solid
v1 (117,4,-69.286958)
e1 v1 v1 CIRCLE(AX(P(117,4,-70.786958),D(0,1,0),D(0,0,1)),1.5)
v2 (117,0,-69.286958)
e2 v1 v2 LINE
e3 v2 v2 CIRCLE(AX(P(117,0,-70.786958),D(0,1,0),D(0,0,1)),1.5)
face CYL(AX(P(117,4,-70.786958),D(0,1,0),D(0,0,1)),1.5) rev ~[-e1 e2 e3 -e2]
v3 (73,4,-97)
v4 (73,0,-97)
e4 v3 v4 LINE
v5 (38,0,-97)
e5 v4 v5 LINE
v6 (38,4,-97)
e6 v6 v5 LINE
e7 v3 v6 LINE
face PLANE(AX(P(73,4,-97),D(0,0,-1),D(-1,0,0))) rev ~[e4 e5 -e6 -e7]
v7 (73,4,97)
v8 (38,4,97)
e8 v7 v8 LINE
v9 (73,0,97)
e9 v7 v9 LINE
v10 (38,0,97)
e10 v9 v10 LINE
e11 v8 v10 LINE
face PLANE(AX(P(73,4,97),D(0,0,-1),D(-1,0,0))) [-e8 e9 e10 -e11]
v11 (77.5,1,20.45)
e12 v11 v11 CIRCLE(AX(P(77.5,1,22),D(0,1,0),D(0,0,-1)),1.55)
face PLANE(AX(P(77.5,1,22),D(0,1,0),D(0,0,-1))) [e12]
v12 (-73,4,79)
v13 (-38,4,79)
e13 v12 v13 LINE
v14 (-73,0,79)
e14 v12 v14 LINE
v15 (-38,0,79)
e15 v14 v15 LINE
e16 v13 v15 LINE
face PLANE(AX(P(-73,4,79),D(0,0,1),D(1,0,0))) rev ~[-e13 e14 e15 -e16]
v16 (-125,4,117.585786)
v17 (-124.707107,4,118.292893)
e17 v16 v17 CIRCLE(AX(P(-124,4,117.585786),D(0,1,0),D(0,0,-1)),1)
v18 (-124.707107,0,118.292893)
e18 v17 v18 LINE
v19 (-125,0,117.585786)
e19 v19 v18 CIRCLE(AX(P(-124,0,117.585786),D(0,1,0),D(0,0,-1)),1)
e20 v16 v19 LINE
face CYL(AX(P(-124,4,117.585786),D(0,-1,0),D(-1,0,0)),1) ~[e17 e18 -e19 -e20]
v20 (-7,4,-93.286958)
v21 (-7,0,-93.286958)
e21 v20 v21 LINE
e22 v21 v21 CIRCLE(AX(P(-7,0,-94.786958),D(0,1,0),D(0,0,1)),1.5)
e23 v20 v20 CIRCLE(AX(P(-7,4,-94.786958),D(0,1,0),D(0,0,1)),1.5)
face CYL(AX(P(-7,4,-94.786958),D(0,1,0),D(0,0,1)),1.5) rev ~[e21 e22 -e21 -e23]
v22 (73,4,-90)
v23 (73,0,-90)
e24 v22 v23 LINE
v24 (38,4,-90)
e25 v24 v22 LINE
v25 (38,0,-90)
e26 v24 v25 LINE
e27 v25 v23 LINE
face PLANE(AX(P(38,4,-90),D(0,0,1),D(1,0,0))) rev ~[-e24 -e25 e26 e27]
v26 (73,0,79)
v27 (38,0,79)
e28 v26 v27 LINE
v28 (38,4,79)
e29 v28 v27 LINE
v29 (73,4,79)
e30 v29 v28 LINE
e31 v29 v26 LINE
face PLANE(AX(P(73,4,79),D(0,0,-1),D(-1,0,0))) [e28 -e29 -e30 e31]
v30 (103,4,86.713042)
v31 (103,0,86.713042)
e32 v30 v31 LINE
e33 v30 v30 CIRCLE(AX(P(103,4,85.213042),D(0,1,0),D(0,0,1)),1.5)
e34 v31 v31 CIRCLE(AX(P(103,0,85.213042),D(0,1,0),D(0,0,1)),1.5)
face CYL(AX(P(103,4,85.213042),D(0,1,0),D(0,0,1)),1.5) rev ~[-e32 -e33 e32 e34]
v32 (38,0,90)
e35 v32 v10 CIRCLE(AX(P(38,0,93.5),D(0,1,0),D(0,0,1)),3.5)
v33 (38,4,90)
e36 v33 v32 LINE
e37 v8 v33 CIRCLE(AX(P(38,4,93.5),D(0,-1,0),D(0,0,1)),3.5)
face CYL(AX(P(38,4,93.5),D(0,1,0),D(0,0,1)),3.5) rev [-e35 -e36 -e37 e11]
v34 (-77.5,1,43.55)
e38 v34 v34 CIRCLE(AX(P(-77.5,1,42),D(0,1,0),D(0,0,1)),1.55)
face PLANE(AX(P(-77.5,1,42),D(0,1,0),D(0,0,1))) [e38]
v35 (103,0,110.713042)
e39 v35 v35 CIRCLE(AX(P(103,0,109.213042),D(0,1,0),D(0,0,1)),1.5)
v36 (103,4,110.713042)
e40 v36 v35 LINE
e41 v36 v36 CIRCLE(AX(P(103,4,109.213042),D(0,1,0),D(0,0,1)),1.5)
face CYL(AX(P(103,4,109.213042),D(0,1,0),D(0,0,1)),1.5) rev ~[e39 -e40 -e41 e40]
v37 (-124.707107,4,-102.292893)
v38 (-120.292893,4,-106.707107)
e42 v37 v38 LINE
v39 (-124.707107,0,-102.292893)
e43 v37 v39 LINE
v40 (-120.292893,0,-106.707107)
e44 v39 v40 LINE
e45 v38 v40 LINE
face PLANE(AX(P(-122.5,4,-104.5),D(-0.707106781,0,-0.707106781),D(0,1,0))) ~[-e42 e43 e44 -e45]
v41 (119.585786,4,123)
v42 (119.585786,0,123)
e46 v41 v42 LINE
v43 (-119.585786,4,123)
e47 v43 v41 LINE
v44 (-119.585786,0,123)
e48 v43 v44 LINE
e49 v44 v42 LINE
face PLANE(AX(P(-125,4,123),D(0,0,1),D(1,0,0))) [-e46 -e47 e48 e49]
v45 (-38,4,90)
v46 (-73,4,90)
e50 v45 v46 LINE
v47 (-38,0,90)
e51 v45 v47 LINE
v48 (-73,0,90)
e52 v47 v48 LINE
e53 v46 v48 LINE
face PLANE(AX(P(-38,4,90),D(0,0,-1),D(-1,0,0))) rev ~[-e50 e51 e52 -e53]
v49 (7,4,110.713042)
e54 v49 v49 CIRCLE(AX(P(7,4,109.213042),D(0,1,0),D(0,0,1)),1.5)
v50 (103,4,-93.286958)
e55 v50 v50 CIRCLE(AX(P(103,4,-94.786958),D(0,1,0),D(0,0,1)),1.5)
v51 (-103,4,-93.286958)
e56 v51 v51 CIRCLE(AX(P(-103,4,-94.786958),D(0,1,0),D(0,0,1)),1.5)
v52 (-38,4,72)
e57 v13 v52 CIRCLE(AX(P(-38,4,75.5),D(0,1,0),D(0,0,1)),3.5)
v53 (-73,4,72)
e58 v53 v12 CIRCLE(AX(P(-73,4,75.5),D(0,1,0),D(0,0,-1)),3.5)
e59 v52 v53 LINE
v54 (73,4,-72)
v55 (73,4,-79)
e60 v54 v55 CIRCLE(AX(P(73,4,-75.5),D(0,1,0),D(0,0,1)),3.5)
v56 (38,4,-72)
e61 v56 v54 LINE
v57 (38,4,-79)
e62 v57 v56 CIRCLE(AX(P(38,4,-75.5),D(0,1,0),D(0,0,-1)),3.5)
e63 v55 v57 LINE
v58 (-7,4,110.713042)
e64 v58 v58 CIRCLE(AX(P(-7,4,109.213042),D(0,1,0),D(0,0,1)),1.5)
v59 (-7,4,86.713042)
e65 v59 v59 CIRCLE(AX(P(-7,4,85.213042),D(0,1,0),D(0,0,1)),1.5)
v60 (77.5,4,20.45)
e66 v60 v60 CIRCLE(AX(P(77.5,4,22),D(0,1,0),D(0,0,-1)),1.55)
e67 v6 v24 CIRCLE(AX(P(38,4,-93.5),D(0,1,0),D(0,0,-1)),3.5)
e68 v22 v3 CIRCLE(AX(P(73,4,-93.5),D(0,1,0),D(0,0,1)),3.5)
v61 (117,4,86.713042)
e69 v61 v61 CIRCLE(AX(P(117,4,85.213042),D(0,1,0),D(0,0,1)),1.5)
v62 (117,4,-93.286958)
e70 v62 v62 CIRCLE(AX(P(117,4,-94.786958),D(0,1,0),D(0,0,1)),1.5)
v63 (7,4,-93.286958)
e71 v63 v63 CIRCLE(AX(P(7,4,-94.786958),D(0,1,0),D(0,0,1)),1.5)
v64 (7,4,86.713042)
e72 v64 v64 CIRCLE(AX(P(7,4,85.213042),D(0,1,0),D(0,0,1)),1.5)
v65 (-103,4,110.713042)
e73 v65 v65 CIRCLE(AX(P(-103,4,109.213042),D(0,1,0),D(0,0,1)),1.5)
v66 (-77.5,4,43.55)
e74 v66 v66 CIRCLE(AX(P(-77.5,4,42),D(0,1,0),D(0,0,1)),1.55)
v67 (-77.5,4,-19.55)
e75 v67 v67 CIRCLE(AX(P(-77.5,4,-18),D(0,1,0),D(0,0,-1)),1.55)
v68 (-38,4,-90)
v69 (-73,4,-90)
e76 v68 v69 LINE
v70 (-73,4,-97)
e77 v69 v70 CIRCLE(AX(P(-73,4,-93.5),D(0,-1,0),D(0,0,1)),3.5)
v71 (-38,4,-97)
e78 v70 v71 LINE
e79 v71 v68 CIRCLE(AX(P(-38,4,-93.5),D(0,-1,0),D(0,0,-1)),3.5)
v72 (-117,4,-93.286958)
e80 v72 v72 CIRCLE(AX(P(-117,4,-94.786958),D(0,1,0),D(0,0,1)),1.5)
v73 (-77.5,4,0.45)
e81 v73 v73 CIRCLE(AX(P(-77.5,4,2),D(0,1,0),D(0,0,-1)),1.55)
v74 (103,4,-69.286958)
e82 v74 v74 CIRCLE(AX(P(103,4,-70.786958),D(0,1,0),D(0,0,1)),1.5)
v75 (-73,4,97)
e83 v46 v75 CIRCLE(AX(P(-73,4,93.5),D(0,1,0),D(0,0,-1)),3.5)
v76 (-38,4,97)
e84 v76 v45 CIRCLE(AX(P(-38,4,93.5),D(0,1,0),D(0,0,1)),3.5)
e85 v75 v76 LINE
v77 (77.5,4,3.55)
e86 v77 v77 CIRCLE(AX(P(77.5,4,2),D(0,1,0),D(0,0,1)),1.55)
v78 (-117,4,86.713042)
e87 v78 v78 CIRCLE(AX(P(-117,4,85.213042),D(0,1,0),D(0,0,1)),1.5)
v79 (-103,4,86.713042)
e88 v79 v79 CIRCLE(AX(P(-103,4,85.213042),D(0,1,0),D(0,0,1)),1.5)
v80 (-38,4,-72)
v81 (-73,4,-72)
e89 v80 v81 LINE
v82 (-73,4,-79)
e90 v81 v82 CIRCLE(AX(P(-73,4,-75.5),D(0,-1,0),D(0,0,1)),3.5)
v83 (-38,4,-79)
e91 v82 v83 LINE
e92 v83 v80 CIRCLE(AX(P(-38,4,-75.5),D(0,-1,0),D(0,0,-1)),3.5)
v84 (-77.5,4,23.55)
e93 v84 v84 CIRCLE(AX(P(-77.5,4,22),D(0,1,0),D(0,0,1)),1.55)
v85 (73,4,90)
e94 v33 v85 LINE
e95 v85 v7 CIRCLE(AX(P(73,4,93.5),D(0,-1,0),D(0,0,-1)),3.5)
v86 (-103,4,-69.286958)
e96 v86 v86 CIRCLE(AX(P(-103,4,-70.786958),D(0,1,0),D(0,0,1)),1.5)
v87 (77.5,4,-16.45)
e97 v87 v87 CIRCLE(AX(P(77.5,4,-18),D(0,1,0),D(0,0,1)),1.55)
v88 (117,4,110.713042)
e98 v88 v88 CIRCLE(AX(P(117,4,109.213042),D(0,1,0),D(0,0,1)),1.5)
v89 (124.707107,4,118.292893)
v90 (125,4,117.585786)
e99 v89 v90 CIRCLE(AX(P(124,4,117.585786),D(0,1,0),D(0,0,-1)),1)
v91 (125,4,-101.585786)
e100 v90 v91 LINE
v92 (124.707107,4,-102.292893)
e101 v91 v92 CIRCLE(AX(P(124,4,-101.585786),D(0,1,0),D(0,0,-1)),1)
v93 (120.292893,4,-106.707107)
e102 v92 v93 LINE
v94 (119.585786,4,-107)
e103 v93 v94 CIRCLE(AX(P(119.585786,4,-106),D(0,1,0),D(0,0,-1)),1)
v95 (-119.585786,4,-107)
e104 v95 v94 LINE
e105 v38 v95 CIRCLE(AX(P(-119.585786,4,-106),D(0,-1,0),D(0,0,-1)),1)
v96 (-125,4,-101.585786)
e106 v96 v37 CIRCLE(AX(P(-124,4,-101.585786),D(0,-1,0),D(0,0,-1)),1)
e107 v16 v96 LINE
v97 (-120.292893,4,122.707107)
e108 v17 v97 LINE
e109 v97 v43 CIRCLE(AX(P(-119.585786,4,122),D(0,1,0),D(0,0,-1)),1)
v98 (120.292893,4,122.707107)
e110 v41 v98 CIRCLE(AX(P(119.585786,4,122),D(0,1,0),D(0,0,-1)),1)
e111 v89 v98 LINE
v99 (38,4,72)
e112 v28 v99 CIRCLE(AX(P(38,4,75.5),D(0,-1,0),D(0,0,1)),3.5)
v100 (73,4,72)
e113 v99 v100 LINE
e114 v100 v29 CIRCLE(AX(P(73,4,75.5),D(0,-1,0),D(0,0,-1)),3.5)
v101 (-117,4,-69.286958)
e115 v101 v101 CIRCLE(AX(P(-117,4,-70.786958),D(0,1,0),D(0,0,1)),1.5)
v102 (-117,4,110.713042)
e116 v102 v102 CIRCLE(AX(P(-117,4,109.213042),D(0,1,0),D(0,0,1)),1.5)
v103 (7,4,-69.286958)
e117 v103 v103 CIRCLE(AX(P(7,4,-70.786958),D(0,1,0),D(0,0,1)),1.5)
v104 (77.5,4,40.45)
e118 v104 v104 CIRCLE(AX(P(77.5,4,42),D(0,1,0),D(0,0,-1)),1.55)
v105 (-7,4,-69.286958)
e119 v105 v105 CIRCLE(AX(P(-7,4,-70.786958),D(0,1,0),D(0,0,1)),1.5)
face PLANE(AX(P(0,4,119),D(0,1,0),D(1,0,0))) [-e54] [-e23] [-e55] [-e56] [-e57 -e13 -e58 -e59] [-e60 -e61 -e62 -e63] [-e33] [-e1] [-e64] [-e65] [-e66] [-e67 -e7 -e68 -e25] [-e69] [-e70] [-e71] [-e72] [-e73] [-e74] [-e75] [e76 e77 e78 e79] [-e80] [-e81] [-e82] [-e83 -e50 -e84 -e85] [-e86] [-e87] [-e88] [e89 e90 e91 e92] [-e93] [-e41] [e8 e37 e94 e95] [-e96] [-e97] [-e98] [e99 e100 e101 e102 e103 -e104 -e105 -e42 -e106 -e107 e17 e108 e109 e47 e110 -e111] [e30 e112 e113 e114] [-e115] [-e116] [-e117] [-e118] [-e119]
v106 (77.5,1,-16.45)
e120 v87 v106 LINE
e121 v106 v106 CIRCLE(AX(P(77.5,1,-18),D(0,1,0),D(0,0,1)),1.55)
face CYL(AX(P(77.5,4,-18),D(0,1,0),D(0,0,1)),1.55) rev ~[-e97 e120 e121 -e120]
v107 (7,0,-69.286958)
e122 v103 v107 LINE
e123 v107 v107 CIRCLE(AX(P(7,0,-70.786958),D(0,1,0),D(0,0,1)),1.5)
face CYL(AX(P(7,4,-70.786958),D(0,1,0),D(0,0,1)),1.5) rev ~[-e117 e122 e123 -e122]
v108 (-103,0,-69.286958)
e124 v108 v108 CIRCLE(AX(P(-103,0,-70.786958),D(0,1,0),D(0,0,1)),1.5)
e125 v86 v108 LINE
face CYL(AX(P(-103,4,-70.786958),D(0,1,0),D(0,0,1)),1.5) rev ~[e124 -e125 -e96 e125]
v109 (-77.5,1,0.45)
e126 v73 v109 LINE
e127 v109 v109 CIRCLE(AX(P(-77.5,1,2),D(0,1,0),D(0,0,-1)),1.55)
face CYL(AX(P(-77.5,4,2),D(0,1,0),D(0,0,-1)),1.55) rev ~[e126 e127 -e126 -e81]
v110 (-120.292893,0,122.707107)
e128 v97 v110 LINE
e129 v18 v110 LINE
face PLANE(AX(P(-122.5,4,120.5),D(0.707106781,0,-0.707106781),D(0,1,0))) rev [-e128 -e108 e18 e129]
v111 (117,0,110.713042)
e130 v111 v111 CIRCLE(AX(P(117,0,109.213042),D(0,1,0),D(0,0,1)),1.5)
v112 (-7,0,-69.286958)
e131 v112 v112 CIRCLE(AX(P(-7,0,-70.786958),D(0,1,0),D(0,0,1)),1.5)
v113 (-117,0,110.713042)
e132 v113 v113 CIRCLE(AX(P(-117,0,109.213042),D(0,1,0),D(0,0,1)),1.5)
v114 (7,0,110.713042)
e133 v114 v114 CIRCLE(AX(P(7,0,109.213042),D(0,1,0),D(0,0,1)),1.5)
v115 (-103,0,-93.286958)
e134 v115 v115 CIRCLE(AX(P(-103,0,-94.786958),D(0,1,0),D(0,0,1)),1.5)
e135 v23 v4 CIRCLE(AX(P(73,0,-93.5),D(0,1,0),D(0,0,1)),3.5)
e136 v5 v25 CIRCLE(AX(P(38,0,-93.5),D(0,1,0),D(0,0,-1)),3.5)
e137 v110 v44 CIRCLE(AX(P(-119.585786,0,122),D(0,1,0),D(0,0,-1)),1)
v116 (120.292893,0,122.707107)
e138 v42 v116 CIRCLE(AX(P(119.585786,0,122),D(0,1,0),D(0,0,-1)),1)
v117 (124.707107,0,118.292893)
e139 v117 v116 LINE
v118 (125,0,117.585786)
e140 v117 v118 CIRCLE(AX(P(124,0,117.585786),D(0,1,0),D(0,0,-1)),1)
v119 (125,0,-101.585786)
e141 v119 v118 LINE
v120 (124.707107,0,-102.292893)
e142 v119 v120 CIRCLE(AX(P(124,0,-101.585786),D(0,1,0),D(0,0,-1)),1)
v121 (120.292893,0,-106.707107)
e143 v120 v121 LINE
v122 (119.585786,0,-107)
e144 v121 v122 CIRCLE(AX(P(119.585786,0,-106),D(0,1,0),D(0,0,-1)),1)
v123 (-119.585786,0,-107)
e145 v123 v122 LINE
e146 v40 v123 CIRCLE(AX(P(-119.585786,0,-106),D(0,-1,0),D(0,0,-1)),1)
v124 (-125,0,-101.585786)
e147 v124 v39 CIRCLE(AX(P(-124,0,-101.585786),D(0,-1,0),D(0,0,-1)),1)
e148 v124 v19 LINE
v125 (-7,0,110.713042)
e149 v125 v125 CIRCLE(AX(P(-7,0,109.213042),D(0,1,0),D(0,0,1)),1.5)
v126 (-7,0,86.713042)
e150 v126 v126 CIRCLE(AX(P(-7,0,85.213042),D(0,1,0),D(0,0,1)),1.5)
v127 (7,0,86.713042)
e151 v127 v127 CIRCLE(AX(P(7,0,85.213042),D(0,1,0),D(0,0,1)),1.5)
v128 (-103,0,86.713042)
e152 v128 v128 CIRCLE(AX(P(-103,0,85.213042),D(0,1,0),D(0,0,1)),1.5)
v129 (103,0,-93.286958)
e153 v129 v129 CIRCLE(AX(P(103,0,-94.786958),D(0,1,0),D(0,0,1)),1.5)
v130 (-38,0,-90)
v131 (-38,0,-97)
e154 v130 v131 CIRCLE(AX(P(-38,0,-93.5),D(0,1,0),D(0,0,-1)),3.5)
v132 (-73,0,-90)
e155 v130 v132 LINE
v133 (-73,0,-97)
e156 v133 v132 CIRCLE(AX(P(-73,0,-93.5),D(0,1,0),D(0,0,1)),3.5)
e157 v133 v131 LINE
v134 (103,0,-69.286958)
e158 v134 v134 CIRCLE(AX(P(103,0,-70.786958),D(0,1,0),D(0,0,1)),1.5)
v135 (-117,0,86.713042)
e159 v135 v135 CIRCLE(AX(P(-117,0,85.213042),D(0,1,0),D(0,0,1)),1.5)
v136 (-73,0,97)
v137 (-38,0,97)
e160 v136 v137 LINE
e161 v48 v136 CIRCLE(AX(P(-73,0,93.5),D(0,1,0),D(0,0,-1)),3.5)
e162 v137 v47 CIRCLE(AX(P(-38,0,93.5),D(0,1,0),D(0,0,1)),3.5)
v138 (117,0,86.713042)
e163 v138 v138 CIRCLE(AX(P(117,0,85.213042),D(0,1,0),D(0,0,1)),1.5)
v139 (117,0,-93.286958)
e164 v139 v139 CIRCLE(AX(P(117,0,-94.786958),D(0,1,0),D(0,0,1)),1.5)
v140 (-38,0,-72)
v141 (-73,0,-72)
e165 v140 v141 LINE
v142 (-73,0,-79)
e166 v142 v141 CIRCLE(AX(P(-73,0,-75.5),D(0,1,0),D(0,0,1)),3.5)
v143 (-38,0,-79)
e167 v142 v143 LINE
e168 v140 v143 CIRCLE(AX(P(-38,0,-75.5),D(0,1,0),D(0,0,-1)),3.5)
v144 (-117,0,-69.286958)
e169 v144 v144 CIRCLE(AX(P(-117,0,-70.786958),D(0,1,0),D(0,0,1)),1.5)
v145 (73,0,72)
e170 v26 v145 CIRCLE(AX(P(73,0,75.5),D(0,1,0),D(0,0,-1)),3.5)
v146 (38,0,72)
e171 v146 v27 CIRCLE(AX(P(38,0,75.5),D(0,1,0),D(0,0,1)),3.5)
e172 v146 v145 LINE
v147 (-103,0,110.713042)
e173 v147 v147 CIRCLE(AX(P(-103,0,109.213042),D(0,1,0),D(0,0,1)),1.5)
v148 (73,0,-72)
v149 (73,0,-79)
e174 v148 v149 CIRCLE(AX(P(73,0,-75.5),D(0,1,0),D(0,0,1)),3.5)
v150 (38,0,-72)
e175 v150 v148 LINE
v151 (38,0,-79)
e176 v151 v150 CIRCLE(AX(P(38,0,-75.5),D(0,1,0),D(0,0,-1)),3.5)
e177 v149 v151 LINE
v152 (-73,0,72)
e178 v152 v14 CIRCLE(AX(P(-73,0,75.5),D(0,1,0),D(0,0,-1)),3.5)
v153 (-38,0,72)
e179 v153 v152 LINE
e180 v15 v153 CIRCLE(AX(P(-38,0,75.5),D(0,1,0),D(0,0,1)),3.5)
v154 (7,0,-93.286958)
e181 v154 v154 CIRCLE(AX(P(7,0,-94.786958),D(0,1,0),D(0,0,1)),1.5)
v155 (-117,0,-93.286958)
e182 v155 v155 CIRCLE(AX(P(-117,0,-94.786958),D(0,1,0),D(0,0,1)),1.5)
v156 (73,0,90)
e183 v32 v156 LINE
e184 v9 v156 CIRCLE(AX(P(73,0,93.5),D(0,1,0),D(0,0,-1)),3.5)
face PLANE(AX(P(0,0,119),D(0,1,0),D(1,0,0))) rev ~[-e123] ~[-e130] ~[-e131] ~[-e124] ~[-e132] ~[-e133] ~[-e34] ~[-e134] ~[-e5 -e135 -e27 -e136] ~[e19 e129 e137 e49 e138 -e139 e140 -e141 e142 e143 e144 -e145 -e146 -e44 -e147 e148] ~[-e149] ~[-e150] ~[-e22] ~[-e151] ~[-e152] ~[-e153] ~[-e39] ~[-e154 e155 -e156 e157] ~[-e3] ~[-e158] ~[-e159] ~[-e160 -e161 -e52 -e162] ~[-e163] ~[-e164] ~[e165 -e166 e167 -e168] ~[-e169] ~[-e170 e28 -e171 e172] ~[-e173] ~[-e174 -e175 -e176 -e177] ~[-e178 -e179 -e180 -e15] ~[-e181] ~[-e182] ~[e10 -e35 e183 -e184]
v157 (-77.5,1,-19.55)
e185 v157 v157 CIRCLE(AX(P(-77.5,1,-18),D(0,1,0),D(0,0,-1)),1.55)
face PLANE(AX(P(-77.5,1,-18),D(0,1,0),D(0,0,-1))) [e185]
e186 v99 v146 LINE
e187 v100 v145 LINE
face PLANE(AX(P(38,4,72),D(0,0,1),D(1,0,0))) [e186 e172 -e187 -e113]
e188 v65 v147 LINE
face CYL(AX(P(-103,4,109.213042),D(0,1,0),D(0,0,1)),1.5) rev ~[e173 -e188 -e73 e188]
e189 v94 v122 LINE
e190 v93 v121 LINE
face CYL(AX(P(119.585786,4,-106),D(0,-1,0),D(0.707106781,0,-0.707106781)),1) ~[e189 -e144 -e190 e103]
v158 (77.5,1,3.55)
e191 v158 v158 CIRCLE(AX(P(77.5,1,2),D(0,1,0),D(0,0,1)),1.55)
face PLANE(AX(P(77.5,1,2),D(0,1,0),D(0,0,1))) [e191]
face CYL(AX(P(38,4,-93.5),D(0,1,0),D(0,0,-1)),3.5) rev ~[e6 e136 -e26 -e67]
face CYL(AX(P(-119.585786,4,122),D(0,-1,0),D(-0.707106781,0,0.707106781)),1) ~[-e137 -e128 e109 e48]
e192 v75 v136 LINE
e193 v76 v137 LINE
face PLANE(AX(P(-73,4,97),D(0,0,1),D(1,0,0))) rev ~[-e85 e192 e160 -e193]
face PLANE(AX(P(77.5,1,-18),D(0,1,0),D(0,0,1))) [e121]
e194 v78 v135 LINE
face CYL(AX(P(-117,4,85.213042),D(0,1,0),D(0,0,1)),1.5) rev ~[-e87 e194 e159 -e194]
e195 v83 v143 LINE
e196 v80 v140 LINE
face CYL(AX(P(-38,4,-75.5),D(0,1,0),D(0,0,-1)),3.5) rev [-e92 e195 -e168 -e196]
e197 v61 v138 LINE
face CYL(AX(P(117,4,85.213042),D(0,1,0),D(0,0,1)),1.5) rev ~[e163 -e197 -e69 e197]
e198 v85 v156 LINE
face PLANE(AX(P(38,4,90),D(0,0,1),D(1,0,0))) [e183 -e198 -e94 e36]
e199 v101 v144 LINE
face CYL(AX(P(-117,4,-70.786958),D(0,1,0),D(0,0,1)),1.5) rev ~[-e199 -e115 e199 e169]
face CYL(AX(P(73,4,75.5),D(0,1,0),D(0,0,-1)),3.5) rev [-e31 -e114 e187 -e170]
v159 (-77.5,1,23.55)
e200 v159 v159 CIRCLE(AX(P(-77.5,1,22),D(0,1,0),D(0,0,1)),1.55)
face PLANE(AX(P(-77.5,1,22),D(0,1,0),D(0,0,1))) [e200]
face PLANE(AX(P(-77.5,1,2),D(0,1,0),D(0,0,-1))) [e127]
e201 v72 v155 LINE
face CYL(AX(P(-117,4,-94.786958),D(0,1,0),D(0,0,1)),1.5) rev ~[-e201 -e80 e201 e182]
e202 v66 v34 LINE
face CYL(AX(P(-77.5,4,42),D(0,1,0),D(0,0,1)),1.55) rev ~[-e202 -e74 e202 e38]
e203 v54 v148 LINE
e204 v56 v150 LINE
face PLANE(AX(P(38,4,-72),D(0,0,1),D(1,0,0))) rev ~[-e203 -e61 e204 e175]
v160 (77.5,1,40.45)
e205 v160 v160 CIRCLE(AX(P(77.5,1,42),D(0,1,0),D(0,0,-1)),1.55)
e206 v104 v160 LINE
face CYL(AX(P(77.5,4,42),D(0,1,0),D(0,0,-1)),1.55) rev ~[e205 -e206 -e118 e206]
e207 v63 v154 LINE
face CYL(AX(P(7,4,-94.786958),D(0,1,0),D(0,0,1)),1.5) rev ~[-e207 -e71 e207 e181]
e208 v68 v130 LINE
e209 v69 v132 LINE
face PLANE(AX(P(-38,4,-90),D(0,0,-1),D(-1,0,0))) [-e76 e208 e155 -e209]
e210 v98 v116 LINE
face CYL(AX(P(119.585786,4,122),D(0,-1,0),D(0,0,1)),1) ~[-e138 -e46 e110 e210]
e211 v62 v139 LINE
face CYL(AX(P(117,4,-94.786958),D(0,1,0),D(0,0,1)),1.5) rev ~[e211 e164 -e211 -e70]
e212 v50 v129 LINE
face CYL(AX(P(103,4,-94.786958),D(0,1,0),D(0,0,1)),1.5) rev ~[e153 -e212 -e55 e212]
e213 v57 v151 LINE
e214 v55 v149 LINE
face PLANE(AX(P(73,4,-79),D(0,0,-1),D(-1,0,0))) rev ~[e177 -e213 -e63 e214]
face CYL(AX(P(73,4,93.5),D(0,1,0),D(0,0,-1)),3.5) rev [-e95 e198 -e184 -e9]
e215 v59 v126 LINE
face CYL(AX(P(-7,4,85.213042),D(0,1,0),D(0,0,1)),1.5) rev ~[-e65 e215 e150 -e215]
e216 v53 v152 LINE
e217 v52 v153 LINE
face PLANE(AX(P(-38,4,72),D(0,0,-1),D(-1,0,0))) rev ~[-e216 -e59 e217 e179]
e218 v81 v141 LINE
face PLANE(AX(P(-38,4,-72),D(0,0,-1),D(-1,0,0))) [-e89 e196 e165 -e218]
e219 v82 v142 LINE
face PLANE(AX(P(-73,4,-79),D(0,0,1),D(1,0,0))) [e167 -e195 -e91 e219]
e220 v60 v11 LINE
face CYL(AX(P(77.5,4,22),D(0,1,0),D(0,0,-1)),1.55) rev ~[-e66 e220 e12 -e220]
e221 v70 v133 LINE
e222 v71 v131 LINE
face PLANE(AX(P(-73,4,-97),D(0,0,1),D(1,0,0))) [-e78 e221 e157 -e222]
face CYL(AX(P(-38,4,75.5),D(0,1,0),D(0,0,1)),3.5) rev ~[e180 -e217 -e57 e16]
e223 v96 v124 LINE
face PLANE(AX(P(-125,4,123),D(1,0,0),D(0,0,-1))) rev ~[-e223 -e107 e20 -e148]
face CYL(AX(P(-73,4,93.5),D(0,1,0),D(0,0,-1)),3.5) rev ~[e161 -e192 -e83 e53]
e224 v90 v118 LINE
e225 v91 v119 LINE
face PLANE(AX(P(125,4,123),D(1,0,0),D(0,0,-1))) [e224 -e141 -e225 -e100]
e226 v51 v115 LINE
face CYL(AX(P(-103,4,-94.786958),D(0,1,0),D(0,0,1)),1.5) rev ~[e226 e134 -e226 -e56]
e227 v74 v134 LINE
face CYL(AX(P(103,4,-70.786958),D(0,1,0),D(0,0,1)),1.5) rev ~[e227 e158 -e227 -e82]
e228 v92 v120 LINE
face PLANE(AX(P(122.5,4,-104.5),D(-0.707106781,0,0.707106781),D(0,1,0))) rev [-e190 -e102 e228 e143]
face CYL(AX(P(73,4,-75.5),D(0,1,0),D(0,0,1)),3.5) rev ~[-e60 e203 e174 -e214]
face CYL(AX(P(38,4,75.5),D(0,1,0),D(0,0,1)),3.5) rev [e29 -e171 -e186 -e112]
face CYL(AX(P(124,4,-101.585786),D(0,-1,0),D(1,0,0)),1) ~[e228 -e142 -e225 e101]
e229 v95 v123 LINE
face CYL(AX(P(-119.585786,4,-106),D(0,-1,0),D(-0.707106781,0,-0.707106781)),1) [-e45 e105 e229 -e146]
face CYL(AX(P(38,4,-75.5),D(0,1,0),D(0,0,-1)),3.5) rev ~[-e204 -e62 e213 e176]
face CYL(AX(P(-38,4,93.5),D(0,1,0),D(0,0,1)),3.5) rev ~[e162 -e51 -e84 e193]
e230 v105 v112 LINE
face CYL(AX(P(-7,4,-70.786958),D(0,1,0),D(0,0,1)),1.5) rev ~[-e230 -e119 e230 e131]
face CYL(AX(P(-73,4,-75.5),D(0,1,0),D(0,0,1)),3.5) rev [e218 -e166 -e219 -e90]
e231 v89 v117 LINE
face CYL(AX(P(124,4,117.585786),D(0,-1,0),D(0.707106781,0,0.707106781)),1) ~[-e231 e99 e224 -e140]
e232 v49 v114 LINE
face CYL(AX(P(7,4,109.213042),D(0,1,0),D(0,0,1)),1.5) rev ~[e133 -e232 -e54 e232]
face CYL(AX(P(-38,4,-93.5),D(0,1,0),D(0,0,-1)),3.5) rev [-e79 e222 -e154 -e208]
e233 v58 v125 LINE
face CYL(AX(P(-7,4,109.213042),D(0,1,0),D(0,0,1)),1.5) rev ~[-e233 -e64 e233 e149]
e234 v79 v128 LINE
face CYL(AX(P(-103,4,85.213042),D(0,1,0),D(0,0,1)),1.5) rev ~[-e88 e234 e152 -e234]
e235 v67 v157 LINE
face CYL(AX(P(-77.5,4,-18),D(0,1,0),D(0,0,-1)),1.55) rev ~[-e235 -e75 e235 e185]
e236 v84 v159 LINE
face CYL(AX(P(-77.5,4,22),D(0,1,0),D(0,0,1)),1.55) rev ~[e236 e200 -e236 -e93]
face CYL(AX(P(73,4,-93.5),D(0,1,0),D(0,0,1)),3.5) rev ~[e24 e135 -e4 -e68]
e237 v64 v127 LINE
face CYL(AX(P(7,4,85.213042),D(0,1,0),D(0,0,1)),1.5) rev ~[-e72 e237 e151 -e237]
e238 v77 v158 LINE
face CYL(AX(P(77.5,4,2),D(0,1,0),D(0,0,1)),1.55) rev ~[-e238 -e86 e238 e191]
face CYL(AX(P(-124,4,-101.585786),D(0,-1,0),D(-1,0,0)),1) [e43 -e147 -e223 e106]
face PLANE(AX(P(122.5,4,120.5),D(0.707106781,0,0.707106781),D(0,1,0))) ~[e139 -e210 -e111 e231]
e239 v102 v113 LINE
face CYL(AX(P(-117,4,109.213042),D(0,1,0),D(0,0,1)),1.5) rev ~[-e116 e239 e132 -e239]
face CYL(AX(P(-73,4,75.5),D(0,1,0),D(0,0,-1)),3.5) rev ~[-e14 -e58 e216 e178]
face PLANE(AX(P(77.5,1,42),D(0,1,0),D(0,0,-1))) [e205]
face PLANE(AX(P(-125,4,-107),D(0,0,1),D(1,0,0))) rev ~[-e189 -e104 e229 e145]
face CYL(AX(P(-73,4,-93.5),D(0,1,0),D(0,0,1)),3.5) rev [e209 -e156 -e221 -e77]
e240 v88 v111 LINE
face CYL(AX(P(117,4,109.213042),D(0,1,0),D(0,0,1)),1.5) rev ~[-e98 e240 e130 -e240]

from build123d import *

# Parameters (mm, degrees)
SKETCH_1_W          = 250
SKETCH_1_H          = 230
EXTRUDE_1_DEPTH     = 4
SKETCH_5_R          = 1.55
CUT_EXTRUDE_4_DEPTH = 3
SKETCH_7_R          = 1.5
CUT_EXTRUDE_5_DEPTH = 170.899970571
SKETCH_8_W          = 250
SKETCH_8_H          = 8
CUT_EXTRUDE_6_DEPTH = 10
SKETCH_9_W          = 250
SKETCH_9_H          = 8
EXTRUDE_2_DEPTH     = 4
CHAMFER_1_SIZE      = 5
FILLET_1_R          = 1


with BuildPart() as part:
    # 草图1 → 凸台-拉伸1 (new body)
    with BuildSketch(Plane(origin=(0, 0, 0), x_dir=(1, 0, 0), z_dir=(0, 1, 0))):
        Rectangle(SKETCH_1_W, SKETCH_1_H)
    extrude(amount=EXTRUDE_1_DEPTH)

    # 草图5 → 切除-拉伸4 (cut)
    with BuildSketch(Plane(origin=(0, 4, 0), x_dir=(1, 0, 0), z_dir=(0, 1, 0))):
        with Locations(Location((77.5, -2, 0), (0, 0, 270))):
            Circle(SKETCH_5_R)
        with Locations(Location((77.5, 18, 0), (0, 0, 270))):
            Circle(SKETCH_5_R)
        with Locations(Location((77.5, -22, 0), (0, 0, 90))):
            Circle(SKETCH_5_R)
        with Locations(Location((77.5, -42, 0), (0, 0, 90))):
            Circle(SKETCH_5_R)
        with Locations(Location((-77.5, -42, 0), (0, 0, 270))):
            Circle(SKETCH_5_R)
        with Locations(Location((-77.5, -22, 0), (0, 0, 270))):
            Circle(SKETCH_5_R)
        with Locations(Location((-77.5, 18, 0), (0, 0, 90))):
            Circle(SKETCH_5_R)
        with Locations(Location((-77.5, -2, 0), (0, 0, 90))):
            Circle(SKETCH_5_R)
    extrude(amount=-CUT_EXTRUDE_4_DEPTH, mode=Mode.SUBTRACT)

    # 草图7 → 切除-拉伸5 (cut, through all)
    with BuildSketch(Plane(origin=(0, 4, 0), x_dir=(1, 0, 0), z_dir=(0, 1, 0))):
        with Locations(Location((-117.000000001, 94.78695798, 0), (0, 0, 270))):
            Circle(SKETCH_7_R)
        with Locations(Location((-117.000000001, 70.78695798, 0), (0, 0, 270))):
            Circle(SKETCH_7_R)
        with Locations(Location((-103.000000001, 70.78695798, 0), (0, 0, 270))):
            Circle(SKETCH_7_R)
        with Locations(Location((-103.000000001, 94.78695798, 0), (0, 0, 270))):
            Circle(SKETCH_7_R)
        with Locations(Location((-7, 94.786957979, 0), (0, 0, 270))):
            Circle(SKETCH_7_R)
        with Locations(Location((7, 94.786957979, 0), (0, 0, 270))):
            Circle(SKETCH_7_R)
        with Locations(Location((7, 70.786957979, 0), (0, 0, 270))):
            Circle(SKETCH_7_R)
        with Locations(Location((-7, 70.786957979, 0), (0, 0, 270))):
            Circle(SKETCH_7_R)
        with Locations(Location((116.999999999, 94.78695798, 0), (0, 0, 270))):
            Circle(SKETCH_7_R)
        with Locations(Location((116.999999999, 70.78695798, 0), (0, 0, 270))):
            Circle(SKETCH_7_R)
        with Locations(Location((102.999999999, 70.78695798, 0), (0, 0, 270))):
            Circle(SKETCH_7_R)
        with Locations(Location((102.999999999, 94.78695798, 0), (0, 0, 270))):
            Circle(SKETCH_7_R)
        with Locations(Location((103, -109.213042021, 0), (0, 0, 270))):
            Circle(SKETCH_7_R)
        with Locations(Location((117, -109.213042021, 0), (0, 0, 270))):
            Circle(SKETCH_7_R)
        with Locations(Location((117, -85.213042021, 0), (0, 0, 270))):
            Circle(SKETCH_7_R)
        with Locations(Location((103, -85.213042021, 0), (0, 0, 270))):
            Circle(SKETCH_7_R)
        with Locations(Location((7, -85.213042021, 0), (0, 0, 270))):
            Circle(SKETCH_7_R)
        with Locations(Location((7, -109.213042021, 0), (0, 0, 270))):
            Circle(SKETCH_7_R)
        with Locations(Location((-7, -85.213042021, 0), (0, 0, 270))):
            Circle(SKETCH_7_R)
        with Locations(Location((-7, -109.213042021, 0), (0, 0, 270))):
            Circle(SKETCH_7_R)
        with Locations(Location((-117, -85.213042021, 0), (0, 0, 270))):
            Circle(SKETCH_7_R)
        with Locations(Location((-103, -85.213042021, 0), (0, 0, 270))):
            Circle(SKETCH_7_R)
        with Locations(Location((-103, -109.213042021, 0), (0, 0, 270))):
            Circle(SKETCH_7_R)
        with Locations(Location((-117, -109.213042021, 0), (0, 0, 270))):
            Circle(SKETCH_7_R)
    extrude(amount=-CUT_EXTRUDE_5_DEPTH, mode=Mode.SUBTRACT)

    # 草图8 → 切除-拉伸6 (cut)
    with BuildSketch(Plane(origin=(0, 4, 0), x_dir=(1, 0, 0), z_dir=(0, 1, 0))):
        with BuildLine():
            Line((-73, 97), (-38, 97))
            ThreePointArc((-38, 97), (-34.5, 93.5), (-38, 90))
            Line((-38, 90), (-73, 90))
            ThreePointArc((-73, 90), (-76.5, 93.5), (-73, 97))
        make_face()
        with BuildLine():
            Line((-73, 79), (-38, 79))
            ThreePointArc((-38, 79), (-34.5, 75.5), (-38, 72))
            Line((-38, 72), (-73, 72))
            ThreePointArc((-73, 72), (-76.5, 75.5), (-73, 79))
        make_face()
        with BuildLine():
            Line((73, 97), (38, 97))
            ThreePointArc((38, 97), (34.5, 93.5), (38, 90))
            Line((38, 90), (73, 90))
            ThreePointArc((73, 90), (76.5, 93.5), (73, 97))
        make_face()
        with BuildLine():
            Line((73, 79), (38, 79))
            ThreePointArc((38, 79), (34.5, 75.5), (38, 72))
            Line((38, 72), (73, 72))
            ThreePointArc((73, 72), (76.5, 75.5), (73, 79))
        make_face()
        with BuildLine():
            Line((-73, -97), (-38, -97))
            ThreePointArc((-38, -97), (-34.5, -93.5), (-38, -90))
            Line((-38, -90), (-73, -90))
            ThreePointArc((-73, -90), (-76.5, -93.5), (-73, -97))
        make_face()
        with BuildLine():
            Line((-73, -79), (-38, -79))
            ThreePointArc((-38, -79), (-34.5, -75.5), (-38, -72))
            Line((-38, -72), (-73, -72))
            ThreePointArc((-73, -72), (-76.5, -75.5), (-73, -79))
        make_face()
        with BuildLine():
            Line((73, -97), (38, -97))
            ThreePointArc((38, -97), (34.5, -93.5), (38, -90))
            Line((38, -90), (73, -90))
            ThreePointArc((73, -90), (76.5, -93.5), (73, -97))
        make_face()
        with BuildLine():
            Line((73, -79), (38, -79))
            ThreePointArc((38, -79), (34.5, -75.5), (38, -72))
            Line((38, -72), (73, -72))
            ThreePointArc((73, -72), (76.5, -75.5), (73, -79))
        make_face()
        with Locations((0, 111)):
            Rectangle(SKETCH_8_W, SKETCH_8_H)
    extrude(amount=-CUT_EXTRUDE_6_DEPTH, mode=Mode.SUBTRACT)

    # 草图9 → 凸台-拉伸2 (add)
    with BuildSketch(Plane(origin=(0, 4, 0), x_dir=(1, 0, 0), z_dir=(0, 1, 0))):
        with Locations((0, -119)):
            Rectangle(SKETCH_9_W, SKETCH_9_H)
    extrude(amount=-EXTRUDE_2_DEPTH)

    # 倒角1
    chamfer_1_edges = [part.edges().sort_by_distance(p)[0] for p in [
        (-125, 2, -107),
        (125, 2, -107),
        (-125, 2, 123),
        (125, 2, 123),
    ]]
    chamfer(chamfer_1_edges, length=CHAMFER_1_SIZE)

    # 圆角1
    fillet_1_edges = [part.edges().sort_by_distance(p)[0] for p in [
        (-125, 2, -102),
        (-125, 2, 118),
        (120, 2, 123),
        (-120, 2, 123),
        (125, 2, 118),
        (125, 2, -102),
        (-120, 2, -107),
        (120, 2, -107),
    ]]
    fillet(fillet_1_edges, radius=FILLET_1_R)


solid = part.part
